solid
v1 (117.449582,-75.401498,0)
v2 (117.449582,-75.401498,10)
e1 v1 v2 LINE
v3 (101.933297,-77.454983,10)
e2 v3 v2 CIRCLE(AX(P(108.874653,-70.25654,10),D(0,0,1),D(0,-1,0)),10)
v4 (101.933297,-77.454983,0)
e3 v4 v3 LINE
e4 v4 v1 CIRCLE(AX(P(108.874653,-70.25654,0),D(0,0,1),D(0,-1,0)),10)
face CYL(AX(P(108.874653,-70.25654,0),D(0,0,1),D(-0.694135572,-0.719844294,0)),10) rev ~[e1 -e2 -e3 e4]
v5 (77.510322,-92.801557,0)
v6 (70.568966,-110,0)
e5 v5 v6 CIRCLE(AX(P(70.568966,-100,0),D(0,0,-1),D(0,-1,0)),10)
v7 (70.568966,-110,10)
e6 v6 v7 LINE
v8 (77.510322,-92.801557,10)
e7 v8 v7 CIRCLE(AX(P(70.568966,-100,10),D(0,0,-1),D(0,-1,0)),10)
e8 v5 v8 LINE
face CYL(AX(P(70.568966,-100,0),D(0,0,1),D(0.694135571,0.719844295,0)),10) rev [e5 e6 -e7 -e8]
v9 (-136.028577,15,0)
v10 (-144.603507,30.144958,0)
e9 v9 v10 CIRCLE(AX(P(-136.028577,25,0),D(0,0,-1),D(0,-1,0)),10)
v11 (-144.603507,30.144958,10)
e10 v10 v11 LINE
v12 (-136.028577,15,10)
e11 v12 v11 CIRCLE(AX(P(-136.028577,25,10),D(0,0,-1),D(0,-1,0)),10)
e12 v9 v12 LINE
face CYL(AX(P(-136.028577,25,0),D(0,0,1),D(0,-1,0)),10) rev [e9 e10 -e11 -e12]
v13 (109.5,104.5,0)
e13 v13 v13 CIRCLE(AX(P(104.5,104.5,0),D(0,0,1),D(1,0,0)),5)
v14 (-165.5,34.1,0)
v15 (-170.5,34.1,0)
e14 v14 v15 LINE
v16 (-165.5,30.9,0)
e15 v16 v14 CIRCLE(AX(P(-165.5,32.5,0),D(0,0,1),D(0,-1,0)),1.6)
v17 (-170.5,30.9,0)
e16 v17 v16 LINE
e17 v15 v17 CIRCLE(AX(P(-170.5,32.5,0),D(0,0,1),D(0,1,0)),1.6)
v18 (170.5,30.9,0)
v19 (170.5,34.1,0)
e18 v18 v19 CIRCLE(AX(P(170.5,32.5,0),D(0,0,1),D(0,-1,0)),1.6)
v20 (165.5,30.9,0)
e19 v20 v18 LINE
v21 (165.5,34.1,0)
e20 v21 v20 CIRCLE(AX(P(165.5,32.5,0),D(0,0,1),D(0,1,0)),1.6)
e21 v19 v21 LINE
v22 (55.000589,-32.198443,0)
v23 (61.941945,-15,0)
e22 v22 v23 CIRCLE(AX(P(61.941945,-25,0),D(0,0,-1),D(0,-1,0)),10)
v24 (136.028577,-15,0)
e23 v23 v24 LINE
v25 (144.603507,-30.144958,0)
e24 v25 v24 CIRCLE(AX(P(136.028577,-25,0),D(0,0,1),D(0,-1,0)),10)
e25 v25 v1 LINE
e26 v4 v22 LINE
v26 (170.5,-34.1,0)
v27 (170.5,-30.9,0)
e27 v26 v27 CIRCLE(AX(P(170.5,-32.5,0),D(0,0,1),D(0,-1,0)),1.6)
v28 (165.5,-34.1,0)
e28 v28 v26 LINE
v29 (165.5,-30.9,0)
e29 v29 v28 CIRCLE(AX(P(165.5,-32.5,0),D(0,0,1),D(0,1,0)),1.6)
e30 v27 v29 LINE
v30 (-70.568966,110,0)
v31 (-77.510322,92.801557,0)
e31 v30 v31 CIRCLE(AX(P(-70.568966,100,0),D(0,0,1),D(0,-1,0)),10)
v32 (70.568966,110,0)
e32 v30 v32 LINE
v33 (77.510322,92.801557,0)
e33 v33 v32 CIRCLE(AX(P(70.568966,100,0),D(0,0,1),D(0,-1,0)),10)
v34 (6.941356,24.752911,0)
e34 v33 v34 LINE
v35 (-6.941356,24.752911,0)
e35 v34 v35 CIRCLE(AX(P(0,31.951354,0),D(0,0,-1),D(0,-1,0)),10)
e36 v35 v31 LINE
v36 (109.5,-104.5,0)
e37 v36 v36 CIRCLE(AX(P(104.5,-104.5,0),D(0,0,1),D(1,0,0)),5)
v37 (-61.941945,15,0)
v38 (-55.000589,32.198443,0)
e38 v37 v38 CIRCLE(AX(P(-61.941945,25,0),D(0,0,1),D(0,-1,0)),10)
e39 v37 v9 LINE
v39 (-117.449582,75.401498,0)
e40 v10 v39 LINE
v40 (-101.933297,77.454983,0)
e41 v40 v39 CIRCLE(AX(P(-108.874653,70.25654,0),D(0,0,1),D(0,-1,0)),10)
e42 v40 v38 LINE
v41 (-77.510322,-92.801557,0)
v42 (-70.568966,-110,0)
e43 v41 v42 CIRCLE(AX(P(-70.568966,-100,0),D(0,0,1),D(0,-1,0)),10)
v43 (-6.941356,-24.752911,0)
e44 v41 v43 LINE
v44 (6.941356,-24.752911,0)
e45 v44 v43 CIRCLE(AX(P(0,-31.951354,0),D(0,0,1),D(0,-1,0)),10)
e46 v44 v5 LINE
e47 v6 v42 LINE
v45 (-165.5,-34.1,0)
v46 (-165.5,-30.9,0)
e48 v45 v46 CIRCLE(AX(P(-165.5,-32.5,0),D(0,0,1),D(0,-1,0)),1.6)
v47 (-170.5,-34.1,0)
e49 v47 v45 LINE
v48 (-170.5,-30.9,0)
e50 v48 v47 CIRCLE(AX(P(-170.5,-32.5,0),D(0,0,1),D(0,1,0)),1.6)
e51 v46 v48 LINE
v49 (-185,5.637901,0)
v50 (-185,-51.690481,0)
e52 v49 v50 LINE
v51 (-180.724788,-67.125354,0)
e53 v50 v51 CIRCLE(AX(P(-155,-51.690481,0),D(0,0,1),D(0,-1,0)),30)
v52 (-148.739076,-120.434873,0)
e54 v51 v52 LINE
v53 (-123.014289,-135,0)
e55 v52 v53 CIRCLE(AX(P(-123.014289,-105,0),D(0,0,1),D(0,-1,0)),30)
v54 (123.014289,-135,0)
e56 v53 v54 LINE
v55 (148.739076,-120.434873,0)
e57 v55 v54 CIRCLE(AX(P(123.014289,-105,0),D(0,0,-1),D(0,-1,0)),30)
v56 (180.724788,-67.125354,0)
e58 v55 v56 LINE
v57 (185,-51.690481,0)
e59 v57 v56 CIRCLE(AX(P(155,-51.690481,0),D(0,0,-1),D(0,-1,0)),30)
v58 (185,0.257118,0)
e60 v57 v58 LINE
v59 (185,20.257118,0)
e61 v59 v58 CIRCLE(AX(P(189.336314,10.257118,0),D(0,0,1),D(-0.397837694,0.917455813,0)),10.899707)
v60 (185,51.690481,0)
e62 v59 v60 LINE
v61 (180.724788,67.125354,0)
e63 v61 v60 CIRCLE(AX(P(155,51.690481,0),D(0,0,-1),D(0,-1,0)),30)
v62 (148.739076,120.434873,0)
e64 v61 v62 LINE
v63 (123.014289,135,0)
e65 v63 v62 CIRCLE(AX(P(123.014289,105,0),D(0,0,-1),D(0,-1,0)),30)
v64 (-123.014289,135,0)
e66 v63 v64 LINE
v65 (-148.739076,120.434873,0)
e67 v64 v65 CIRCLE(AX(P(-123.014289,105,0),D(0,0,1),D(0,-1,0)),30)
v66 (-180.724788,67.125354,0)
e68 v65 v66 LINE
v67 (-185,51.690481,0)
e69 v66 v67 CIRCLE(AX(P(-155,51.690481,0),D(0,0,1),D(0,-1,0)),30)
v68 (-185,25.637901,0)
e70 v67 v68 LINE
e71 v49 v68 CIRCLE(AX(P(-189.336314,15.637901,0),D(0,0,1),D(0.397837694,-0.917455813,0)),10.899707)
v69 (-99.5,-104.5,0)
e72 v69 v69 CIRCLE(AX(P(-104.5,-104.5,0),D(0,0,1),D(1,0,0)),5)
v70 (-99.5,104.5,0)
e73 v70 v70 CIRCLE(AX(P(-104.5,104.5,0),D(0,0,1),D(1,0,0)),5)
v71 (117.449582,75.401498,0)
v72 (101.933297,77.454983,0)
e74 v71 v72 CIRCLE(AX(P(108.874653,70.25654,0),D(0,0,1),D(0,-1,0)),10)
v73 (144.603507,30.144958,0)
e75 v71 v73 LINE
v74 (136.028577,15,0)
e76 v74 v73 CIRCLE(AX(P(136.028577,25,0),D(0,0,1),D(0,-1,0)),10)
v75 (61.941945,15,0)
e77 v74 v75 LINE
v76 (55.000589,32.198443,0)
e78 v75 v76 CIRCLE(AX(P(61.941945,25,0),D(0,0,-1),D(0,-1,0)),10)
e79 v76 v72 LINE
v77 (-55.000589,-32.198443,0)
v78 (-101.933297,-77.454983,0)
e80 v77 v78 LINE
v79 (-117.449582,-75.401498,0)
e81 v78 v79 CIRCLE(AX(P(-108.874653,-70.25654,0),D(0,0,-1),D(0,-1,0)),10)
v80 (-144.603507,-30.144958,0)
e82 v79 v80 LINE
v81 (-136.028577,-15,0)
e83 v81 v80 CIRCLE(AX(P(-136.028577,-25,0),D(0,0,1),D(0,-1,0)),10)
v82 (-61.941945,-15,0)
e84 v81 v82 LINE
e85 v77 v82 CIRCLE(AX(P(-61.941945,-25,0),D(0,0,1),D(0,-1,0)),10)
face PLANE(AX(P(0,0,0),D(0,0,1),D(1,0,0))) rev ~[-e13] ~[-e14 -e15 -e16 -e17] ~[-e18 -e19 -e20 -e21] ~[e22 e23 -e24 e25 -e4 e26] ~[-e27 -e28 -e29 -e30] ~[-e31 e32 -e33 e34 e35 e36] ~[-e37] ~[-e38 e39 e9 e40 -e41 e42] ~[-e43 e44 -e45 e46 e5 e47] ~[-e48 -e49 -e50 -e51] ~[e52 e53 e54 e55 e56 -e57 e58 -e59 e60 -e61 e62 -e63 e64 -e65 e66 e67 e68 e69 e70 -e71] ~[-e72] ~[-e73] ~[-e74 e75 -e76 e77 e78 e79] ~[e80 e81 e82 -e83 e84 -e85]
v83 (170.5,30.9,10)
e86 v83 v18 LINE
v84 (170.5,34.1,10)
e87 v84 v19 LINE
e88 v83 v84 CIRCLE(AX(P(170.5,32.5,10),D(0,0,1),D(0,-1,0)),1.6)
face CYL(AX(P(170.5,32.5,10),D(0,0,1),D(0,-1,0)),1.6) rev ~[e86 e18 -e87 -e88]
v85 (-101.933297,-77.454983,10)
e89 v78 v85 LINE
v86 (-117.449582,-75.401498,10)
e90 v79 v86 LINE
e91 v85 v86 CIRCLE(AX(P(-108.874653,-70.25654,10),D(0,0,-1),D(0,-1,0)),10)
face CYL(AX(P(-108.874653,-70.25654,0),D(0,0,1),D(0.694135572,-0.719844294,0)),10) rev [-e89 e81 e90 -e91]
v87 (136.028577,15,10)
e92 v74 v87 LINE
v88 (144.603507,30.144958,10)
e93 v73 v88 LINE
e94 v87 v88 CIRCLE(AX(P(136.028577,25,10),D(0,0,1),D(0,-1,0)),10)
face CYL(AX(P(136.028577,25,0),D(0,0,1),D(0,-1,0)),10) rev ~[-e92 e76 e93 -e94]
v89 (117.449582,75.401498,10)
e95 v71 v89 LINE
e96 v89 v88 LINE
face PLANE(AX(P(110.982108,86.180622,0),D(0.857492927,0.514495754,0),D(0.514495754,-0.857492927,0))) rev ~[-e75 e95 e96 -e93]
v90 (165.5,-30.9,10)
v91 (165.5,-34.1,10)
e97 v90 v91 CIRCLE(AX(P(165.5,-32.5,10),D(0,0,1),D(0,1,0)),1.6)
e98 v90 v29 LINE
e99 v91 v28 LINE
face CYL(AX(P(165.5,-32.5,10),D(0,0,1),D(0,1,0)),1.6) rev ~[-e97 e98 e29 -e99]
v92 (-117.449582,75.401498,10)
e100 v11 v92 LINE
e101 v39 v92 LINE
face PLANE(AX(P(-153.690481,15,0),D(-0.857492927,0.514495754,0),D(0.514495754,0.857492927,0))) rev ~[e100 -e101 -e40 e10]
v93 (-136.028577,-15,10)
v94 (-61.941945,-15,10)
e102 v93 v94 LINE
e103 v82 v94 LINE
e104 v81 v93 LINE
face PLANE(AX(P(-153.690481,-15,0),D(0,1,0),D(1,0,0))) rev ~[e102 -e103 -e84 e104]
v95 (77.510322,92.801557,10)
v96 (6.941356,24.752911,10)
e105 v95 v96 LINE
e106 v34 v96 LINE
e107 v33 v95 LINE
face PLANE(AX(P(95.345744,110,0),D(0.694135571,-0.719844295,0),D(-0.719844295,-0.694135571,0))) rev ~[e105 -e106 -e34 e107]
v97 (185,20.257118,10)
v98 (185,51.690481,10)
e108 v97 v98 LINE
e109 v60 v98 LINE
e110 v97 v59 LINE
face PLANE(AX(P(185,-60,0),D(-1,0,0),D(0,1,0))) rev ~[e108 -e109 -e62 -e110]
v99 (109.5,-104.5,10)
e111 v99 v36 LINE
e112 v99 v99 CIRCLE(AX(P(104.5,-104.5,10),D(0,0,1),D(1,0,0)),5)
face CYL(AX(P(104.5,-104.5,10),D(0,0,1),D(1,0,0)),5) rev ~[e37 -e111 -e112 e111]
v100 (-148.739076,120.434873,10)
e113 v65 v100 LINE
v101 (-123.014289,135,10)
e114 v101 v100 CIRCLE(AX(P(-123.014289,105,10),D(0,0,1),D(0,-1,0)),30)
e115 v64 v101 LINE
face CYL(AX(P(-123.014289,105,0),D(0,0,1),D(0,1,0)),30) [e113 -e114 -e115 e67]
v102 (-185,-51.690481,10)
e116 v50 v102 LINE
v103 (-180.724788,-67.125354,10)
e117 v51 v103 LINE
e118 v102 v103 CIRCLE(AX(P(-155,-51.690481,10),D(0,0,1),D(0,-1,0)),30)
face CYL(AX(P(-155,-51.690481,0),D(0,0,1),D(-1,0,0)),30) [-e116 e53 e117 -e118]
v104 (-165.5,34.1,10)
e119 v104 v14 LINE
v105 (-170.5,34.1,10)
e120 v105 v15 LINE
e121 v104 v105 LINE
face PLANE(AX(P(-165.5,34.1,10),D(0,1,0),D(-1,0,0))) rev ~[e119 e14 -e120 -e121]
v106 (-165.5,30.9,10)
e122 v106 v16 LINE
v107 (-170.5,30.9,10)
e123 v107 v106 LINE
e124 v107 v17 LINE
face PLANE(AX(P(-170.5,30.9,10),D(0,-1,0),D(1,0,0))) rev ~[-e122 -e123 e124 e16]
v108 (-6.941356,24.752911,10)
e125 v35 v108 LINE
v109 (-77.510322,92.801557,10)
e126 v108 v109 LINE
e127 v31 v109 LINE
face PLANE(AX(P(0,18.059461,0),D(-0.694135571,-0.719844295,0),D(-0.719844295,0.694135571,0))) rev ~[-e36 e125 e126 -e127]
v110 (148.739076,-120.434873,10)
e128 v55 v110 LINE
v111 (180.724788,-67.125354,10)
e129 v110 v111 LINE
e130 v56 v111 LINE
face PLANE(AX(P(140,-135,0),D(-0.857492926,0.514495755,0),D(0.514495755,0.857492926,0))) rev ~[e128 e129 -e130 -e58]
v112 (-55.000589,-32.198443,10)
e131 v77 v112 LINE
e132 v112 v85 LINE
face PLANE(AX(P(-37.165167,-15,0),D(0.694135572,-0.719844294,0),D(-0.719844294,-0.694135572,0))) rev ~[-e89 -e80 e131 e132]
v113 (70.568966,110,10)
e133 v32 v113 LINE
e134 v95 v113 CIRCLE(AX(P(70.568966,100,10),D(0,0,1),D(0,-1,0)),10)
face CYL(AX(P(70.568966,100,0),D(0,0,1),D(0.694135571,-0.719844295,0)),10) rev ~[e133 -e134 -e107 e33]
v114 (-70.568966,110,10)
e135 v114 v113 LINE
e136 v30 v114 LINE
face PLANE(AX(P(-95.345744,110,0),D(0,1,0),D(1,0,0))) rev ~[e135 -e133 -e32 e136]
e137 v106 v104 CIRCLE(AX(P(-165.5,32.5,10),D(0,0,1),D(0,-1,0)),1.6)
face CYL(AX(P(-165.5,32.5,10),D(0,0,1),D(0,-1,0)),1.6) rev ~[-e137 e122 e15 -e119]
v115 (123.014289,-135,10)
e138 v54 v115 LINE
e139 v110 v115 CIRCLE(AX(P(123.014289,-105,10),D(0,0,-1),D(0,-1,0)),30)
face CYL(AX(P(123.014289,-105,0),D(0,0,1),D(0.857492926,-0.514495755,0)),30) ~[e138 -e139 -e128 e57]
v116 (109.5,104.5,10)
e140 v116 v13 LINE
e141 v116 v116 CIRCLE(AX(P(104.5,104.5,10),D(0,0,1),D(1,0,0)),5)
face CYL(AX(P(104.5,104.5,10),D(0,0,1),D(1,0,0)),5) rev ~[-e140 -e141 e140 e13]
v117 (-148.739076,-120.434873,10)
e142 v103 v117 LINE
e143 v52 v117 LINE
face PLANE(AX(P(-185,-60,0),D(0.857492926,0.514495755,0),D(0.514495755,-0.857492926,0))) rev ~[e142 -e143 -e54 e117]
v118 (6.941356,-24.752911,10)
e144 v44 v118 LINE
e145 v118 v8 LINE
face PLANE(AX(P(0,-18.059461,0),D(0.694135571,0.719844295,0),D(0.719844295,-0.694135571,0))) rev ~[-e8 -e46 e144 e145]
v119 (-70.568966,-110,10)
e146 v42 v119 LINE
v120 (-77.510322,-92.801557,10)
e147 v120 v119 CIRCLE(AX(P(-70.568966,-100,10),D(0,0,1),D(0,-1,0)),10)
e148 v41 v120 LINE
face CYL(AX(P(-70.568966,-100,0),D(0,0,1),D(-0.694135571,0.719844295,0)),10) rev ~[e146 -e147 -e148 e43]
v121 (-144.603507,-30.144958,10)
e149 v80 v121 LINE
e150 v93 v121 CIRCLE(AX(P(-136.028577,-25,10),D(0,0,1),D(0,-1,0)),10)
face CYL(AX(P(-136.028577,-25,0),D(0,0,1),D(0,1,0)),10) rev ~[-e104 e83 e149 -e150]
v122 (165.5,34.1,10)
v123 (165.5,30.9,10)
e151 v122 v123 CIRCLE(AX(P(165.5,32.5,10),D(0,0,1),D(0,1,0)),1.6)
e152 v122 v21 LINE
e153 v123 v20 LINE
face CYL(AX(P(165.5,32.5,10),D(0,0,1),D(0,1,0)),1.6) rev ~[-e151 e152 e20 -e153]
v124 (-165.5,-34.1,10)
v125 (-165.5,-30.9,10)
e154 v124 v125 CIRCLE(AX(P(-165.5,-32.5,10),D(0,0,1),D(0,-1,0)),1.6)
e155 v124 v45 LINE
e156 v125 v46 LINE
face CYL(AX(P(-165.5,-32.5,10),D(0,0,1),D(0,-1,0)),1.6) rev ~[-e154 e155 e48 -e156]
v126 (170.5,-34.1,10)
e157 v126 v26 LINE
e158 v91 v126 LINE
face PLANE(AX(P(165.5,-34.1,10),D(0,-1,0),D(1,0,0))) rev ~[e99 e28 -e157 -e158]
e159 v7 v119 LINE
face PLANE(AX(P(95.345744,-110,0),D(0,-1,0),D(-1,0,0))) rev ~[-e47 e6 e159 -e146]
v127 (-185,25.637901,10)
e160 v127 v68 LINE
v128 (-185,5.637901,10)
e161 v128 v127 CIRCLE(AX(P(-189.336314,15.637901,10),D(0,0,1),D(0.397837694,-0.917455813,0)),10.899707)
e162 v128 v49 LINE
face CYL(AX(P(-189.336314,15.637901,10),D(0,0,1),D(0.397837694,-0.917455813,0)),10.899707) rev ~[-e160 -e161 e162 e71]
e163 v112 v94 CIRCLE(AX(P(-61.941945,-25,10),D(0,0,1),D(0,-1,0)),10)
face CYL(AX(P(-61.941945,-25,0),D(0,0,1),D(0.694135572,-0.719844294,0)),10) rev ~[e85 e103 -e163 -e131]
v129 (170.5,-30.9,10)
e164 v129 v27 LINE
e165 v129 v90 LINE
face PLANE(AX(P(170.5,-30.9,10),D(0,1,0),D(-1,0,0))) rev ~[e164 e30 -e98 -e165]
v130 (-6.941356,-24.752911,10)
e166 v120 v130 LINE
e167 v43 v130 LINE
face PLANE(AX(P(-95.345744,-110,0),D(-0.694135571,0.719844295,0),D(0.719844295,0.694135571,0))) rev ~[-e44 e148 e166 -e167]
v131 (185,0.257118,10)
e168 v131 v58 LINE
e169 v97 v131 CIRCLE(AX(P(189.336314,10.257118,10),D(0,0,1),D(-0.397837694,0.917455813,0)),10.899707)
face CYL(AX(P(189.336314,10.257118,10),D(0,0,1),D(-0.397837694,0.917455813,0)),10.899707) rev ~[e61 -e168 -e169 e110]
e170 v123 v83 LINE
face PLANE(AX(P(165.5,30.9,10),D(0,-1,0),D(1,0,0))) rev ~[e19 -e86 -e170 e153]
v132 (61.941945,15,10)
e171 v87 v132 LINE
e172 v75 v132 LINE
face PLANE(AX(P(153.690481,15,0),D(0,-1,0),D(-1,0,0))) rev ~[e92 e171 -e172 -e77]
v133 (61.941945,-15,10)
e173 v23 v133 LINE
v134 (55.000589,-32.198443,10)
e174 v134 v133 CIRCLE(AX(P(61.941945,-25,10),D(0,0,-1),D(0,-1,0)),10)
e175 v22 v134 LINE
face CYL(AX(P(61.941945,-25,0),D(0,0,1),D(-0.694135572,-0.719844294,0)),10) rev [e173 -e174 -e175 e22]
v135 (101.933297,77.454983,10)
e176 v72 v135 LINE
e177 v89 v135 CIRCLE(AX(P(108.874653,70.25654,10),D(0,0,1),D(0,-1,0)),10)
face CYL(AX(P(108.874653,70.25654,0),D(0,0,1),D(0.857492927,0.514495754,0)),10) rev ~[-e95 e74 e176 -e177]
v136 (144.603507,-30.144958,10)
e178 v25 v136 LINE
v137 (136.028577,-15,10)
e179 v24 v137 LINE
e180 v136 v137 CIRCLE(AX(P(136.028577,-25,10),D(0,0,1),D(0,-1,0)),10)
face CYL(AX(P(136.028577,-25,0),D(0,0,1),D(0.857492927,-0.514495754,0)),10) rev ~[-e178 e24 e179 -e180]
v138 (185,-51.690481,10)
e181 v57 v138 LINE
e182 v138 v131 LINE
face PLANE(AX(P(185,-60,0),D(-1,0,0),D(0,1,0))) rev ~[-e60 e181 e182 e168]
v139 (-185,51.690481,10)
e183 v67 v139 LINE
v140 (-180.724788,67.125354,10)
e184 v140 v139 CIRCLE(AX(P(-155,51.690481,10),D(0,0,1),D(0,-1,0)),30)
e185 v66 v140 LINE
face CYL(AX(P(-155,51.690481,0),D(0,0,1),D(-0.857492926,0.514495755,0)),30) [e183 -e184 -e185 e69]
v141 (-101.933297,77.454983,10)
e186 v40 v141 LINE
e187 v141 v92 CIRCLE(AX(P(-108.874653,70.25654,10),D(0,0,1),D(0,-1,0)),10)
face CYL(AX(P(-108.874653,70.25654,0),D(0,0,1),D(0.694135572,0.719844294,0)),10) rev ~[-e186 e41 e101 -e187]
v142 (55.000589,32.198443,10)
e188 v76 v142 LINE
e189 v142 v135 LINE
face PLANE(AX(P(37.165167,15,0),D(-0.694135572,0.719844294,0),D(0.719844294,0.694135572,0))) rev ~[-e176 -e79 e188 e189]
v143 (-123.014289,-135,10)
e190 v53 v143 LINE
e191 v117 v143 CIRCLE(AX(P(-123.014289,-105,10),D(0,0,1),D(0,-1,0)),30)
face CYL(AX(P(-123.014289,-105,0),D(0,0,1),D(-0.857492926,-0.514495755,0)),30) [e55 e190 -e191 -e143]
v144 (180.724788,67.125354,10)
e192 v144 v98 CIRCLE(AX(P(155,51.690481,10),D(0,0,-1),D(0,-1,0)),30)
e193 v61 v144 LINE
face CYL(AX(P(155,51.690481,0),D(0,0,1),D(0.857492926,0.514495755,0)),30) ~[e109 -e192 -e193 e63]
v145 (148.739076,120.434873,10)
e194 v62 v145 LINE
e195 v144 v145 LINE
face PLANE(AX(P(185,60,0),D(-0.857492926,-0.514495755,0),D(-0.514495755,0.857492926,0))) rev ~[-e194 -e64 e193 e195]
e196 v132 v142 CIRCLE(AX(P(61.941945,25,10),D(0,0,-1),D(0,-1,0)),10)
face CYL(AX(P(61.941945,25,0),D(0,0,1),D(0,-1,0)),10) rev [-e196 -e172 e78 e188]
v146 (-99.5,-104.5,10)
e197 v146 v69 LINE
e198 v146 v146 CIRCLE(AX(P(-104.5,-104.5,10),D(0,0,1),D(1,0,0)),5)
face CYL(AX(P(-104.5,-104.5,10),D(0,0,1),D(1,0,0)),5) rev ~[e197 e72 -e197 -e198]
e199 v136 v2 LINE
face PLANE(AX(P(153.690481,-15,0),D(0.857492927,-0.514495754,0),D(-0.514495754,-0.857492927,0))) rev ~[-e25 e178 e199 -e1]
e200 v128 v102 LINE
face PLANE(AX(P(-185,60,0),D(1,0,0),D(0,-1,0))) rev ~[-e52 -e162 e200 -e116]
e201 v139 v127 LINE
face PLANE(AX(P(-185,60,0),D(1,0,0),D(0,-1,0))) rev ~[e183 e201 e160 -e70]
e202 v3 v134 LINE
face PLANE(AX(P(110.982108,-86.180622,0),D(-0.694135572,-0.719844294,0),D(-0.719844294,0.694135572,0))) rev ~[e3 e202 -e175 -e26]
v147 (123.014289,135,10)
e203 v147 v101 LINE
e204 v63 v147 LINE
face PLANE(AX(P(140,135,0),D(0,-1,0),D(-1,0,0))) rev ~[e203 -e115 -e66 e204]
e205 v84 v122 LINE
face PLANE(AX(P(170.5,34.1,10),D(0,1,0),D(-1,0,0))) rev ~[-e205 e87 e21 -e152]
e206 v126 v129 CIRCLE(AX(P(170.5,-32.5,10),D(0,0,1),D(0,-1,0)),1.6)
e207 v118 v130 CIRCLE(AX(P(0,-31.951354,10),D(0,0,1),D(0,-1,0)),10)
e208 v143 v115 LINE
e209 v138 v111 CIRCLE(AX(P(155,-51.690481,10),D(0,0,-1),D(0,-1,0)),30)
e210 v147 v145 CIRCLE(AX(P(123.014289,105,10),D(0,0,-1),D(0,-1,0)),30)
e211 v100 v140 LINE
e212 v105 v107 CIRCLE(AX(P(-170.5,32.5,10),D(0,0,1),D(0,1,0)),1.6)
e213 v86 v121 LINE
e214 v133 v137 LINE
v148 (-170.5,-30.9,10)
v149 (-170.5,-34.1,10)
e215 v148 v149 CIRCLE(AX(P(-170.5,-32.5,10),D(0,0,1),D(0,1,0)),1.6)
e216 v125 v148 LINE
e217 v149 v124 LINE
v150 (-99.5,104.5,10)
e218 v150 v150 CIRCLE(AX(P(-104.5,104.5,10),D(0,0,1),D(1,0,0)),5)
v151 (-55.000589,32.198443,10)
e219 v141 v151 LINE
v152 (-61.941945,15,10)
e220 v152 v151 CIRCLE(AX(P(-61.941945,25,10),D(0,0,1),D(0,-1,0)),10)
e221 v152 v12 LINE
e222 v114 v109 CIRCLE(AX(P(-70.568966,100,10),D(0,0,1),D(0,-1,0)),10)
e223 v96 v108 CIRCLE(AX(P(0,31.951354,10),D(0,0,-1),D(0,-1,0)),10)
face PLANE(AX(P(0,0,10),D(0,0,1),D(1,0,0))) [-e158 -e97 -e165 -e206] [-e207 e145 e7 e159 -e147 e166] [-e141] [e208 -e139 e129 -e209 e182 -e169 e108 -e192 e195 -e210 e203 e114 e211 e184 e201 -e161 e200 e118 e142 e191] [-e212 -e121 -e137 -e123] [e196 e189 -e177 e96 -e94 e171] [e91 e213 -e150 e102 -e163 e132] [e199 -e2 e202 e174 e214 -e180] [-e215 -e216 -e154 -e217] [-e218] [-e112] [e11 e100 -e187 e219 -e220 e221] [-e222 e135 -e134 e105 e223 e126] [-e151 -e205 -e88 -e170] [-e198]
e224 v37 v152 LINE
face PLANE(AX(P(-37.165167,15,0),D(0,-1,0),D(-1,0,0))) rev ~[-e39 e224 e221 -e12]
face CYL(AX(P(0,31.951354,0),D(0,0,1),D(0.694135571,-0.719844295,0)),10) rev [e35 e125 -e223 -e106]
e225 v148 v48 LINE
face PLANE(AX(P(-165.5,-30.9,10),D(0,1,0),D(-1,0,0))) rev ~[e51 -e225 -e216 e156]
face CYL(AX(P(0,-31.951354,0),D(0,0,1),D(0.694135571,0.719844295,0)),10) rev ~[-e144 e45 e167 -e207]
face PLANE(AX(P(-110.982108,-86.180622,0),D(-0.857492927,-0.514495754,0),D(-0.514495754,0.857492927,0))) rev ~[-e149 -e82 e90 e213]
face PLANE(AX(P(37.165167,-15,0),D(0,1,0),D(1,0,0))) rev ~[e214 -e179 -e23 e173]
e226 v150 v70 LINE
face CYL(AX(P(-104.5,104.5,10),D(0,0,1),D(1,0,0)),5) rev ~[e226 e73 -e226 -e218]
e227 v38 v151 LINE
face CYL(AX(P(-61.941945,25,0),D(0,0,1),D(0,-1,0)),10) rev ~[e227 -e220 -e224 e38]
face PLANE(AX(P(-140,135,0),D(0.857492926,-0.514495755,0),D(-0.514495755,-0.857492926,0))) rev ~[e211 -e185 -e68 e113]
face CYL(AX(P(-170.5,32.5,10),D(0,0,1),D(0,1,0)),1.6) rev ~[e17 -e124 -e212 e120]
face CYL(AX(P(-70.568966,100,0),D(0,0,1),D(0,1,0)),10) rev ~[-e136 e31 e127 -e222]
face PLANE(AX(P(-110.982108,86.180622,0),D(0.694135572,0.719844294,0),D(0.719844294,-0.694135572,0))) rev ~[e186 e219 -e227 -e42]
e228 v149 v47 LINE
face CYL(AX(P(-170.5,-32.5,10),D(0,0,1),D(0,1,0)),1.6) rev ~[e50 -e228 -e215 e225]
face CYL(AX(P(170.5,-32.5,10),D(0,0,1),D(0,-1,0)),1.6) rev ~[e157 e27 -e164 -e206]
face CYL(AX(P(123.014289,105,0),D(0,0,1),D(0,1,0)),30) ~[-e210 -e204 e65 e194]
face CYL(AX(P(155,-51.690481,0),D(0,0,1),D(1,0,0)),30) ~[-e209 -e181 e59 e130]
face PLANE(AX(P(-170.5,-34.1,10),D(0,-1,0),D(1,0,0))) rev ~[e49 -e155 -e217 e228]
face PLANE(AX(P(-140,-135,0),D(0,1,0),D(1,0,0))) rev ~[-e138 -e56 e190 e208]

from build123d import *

# Parameters (mm, degrees)
F1_DEPTH = 10
F2_R     = 10
F3_R     = 30
F5_DEPTH = 10.001
F6_R     = 5
F7_DEPTH = 10.001
F9_DEPTH = 10.001


with BuildPart() as f1:
    # F0 (on Top) → F1 (new body)
    with BuildSketch(Plane.XY):
        Polygon((140, 135), (-140, 135), (-185, 60), (-185, -60), (-140, -135), (140, -135), (185, -60), (185, 60), align=None)
        Polygon((-110.982108, -86.180622), (-153.690481, -15), (-37.165167, -15), align=None, mode=Mode.SUBTRACT)
        Polygon((95.345744, -110), (-95.345744, -110), (0, -18.059461), align=None, mode=Mode.SUBTRACT)
        Polygon((37.165167, -15), (153.690481, -15), (110.982108, -86.180622), align=None, mode=Mode.SUBTRACT)
        Polygon((-153.690481, 15), (-110.982108, 86.180622), (-37.165167, 15), align=None, mode=Mode.SUBTRACT)
        Polygon((0, 18.059461), (-95.345744, 110), (95.345744, 110), align=None, mode=Mode.SUBTRACT)
        Polygon((37.165167, 15), (110.982108, 86.180622), (153.690481, 15), align=None, mode=Mode.SUBTRACT)
    extrude(amount=F1_DEPTH)

    # F2
    f2_edges = [f1.edges().sort_by_distance(p)[0] for p in [
        (-110.982108, 86.180622, 5),
        (-153.690481, 15, 5),
        (-37.165167, 15, 5),
        (153.690481, 15, 5),
        (0, 18.059461, 5),
        (-95.345744, 110, 5),
        (95.345744, 110, 5),
        (-153.690481, -15, 5),
        (-37.165167, -15, 5),
        (-110.982108, -86.180622, 5),
        (0, -18.059461, 5),
        (-95.345744, -110, 5),
        (95.345744, -110, 5),
        (153.690481, -15, 5),
        (37.165167, -15, 5),
        (110.982108, -86.180622, 5),
        (110.982108, 86.180622, 5),
        (37.165167, 15, 5),
    ]]
    fillet(f2_edges, radius=F2_R)

    # F3
    f3_edges = [f1.edges().sort_by_distance(p)[0] for p in [
        (-185, 60, 5),
        (-140, 135, 5),
        (-185, -60, 5),
        (-140, -135, 5),
        (140, -135, 5),
        (185, -60, 5),
        (185, 60, 5),
        (140, 135, 5),
    ]]
    fillet(f3_edges, radius=F3_R)

    # F4 (on face) → F5 (cut, through all)
    with BuildSketch(Plane.XY.offset(10)):
        with BuildLine():
            ThreePointArc((-170.5, -30.9), (-172.1, -32.5), (-170.5, -34.1))
            Line((-170.5, -34.1), (-165.5, -34.1))
            ThreePointArc((-165.5, -34.1), (-163.9, -32.5), (-165.5, -30.9))
            Line((-165.5, -30.9), (-170.5, -30.9))
        make_face()
        with BuildLine():
            ThreePointArc((165.5, -30.9), (163.9, -32.5), (165.5, -34.1))
            Line((165.5, -34.1), (170.5, -34.1))
            ThreePointArc((170.5, -34.1), (172.1, -32.5), (170.5, -30.9))
            Line((170.5, -30.9), (165.5, -30.9))
        make_face()
        with BuildLine():
            ThreePointArc((165.5, 34.1), (163.9, 32.5), (165.5, 30.9))
            Line((165.5, 30.9), (170.5, 30.9))
            ThreePointArc((170.5, 30.9), (172.1, 32.5), (170.5, 34.1))
            Line((170.5, 34.1), (165.5, 34.1))
        make_face()
        with BuildLine():
            ThreePointArc((-170.5, 34.1), (-172.1, 32.5), (-170.5, 30.9))
            Line((-170.5, 30.9), (-165.5, 30.9))
            ThreePointArc((-165.5, 30.9), (-163.9, 32.5), (-165.5, 34.1))
            Line((-165.5, 34.1), (-170.5, 34.1))
        make_face()
    extrude(amount=-F5_DEPTH, mode=Mode.SUBTRACT)

    # F6 (on face) → F7 (cut, through all)
    with BuildSketch(Plane.XY.offset(10)):
        with Locations((-104.5, 104.5)):
            Circle(F6_R)
        with Locations((104.5, 104.5)):
            Circle(F6_R)
        with Locations((-104.5, -104.5)):
            Circle(F6_R)
        with Locations((104.5, -104.5)):
            Circle(F6_R)
    extrude(amount=-F7_DEPTH, mode=Mode.SUBTRACT)

    # F8 (on face) → F9 (cut, through all)
    with BuildSketch(Plane.XY.offset(10)):
        with BuildLine():
            Line((-185, 25.637901), (-185, 5.637901))
            ThreePointArc((-185, 5.637901), (-178.436607, 15.637901), (-185, 25.637901))
        make_face()
        with BuildLine():
            ThreePointArc((185, 20.257118), (178.436607, 10.257118), (185, 0.257118))
            Line((185, 0.257118), (185, 20.257118))
        make_face()
    extrude(amount=-F9_DEPTH, mode=Mode.SUBTRACT)


solid = f1.part
